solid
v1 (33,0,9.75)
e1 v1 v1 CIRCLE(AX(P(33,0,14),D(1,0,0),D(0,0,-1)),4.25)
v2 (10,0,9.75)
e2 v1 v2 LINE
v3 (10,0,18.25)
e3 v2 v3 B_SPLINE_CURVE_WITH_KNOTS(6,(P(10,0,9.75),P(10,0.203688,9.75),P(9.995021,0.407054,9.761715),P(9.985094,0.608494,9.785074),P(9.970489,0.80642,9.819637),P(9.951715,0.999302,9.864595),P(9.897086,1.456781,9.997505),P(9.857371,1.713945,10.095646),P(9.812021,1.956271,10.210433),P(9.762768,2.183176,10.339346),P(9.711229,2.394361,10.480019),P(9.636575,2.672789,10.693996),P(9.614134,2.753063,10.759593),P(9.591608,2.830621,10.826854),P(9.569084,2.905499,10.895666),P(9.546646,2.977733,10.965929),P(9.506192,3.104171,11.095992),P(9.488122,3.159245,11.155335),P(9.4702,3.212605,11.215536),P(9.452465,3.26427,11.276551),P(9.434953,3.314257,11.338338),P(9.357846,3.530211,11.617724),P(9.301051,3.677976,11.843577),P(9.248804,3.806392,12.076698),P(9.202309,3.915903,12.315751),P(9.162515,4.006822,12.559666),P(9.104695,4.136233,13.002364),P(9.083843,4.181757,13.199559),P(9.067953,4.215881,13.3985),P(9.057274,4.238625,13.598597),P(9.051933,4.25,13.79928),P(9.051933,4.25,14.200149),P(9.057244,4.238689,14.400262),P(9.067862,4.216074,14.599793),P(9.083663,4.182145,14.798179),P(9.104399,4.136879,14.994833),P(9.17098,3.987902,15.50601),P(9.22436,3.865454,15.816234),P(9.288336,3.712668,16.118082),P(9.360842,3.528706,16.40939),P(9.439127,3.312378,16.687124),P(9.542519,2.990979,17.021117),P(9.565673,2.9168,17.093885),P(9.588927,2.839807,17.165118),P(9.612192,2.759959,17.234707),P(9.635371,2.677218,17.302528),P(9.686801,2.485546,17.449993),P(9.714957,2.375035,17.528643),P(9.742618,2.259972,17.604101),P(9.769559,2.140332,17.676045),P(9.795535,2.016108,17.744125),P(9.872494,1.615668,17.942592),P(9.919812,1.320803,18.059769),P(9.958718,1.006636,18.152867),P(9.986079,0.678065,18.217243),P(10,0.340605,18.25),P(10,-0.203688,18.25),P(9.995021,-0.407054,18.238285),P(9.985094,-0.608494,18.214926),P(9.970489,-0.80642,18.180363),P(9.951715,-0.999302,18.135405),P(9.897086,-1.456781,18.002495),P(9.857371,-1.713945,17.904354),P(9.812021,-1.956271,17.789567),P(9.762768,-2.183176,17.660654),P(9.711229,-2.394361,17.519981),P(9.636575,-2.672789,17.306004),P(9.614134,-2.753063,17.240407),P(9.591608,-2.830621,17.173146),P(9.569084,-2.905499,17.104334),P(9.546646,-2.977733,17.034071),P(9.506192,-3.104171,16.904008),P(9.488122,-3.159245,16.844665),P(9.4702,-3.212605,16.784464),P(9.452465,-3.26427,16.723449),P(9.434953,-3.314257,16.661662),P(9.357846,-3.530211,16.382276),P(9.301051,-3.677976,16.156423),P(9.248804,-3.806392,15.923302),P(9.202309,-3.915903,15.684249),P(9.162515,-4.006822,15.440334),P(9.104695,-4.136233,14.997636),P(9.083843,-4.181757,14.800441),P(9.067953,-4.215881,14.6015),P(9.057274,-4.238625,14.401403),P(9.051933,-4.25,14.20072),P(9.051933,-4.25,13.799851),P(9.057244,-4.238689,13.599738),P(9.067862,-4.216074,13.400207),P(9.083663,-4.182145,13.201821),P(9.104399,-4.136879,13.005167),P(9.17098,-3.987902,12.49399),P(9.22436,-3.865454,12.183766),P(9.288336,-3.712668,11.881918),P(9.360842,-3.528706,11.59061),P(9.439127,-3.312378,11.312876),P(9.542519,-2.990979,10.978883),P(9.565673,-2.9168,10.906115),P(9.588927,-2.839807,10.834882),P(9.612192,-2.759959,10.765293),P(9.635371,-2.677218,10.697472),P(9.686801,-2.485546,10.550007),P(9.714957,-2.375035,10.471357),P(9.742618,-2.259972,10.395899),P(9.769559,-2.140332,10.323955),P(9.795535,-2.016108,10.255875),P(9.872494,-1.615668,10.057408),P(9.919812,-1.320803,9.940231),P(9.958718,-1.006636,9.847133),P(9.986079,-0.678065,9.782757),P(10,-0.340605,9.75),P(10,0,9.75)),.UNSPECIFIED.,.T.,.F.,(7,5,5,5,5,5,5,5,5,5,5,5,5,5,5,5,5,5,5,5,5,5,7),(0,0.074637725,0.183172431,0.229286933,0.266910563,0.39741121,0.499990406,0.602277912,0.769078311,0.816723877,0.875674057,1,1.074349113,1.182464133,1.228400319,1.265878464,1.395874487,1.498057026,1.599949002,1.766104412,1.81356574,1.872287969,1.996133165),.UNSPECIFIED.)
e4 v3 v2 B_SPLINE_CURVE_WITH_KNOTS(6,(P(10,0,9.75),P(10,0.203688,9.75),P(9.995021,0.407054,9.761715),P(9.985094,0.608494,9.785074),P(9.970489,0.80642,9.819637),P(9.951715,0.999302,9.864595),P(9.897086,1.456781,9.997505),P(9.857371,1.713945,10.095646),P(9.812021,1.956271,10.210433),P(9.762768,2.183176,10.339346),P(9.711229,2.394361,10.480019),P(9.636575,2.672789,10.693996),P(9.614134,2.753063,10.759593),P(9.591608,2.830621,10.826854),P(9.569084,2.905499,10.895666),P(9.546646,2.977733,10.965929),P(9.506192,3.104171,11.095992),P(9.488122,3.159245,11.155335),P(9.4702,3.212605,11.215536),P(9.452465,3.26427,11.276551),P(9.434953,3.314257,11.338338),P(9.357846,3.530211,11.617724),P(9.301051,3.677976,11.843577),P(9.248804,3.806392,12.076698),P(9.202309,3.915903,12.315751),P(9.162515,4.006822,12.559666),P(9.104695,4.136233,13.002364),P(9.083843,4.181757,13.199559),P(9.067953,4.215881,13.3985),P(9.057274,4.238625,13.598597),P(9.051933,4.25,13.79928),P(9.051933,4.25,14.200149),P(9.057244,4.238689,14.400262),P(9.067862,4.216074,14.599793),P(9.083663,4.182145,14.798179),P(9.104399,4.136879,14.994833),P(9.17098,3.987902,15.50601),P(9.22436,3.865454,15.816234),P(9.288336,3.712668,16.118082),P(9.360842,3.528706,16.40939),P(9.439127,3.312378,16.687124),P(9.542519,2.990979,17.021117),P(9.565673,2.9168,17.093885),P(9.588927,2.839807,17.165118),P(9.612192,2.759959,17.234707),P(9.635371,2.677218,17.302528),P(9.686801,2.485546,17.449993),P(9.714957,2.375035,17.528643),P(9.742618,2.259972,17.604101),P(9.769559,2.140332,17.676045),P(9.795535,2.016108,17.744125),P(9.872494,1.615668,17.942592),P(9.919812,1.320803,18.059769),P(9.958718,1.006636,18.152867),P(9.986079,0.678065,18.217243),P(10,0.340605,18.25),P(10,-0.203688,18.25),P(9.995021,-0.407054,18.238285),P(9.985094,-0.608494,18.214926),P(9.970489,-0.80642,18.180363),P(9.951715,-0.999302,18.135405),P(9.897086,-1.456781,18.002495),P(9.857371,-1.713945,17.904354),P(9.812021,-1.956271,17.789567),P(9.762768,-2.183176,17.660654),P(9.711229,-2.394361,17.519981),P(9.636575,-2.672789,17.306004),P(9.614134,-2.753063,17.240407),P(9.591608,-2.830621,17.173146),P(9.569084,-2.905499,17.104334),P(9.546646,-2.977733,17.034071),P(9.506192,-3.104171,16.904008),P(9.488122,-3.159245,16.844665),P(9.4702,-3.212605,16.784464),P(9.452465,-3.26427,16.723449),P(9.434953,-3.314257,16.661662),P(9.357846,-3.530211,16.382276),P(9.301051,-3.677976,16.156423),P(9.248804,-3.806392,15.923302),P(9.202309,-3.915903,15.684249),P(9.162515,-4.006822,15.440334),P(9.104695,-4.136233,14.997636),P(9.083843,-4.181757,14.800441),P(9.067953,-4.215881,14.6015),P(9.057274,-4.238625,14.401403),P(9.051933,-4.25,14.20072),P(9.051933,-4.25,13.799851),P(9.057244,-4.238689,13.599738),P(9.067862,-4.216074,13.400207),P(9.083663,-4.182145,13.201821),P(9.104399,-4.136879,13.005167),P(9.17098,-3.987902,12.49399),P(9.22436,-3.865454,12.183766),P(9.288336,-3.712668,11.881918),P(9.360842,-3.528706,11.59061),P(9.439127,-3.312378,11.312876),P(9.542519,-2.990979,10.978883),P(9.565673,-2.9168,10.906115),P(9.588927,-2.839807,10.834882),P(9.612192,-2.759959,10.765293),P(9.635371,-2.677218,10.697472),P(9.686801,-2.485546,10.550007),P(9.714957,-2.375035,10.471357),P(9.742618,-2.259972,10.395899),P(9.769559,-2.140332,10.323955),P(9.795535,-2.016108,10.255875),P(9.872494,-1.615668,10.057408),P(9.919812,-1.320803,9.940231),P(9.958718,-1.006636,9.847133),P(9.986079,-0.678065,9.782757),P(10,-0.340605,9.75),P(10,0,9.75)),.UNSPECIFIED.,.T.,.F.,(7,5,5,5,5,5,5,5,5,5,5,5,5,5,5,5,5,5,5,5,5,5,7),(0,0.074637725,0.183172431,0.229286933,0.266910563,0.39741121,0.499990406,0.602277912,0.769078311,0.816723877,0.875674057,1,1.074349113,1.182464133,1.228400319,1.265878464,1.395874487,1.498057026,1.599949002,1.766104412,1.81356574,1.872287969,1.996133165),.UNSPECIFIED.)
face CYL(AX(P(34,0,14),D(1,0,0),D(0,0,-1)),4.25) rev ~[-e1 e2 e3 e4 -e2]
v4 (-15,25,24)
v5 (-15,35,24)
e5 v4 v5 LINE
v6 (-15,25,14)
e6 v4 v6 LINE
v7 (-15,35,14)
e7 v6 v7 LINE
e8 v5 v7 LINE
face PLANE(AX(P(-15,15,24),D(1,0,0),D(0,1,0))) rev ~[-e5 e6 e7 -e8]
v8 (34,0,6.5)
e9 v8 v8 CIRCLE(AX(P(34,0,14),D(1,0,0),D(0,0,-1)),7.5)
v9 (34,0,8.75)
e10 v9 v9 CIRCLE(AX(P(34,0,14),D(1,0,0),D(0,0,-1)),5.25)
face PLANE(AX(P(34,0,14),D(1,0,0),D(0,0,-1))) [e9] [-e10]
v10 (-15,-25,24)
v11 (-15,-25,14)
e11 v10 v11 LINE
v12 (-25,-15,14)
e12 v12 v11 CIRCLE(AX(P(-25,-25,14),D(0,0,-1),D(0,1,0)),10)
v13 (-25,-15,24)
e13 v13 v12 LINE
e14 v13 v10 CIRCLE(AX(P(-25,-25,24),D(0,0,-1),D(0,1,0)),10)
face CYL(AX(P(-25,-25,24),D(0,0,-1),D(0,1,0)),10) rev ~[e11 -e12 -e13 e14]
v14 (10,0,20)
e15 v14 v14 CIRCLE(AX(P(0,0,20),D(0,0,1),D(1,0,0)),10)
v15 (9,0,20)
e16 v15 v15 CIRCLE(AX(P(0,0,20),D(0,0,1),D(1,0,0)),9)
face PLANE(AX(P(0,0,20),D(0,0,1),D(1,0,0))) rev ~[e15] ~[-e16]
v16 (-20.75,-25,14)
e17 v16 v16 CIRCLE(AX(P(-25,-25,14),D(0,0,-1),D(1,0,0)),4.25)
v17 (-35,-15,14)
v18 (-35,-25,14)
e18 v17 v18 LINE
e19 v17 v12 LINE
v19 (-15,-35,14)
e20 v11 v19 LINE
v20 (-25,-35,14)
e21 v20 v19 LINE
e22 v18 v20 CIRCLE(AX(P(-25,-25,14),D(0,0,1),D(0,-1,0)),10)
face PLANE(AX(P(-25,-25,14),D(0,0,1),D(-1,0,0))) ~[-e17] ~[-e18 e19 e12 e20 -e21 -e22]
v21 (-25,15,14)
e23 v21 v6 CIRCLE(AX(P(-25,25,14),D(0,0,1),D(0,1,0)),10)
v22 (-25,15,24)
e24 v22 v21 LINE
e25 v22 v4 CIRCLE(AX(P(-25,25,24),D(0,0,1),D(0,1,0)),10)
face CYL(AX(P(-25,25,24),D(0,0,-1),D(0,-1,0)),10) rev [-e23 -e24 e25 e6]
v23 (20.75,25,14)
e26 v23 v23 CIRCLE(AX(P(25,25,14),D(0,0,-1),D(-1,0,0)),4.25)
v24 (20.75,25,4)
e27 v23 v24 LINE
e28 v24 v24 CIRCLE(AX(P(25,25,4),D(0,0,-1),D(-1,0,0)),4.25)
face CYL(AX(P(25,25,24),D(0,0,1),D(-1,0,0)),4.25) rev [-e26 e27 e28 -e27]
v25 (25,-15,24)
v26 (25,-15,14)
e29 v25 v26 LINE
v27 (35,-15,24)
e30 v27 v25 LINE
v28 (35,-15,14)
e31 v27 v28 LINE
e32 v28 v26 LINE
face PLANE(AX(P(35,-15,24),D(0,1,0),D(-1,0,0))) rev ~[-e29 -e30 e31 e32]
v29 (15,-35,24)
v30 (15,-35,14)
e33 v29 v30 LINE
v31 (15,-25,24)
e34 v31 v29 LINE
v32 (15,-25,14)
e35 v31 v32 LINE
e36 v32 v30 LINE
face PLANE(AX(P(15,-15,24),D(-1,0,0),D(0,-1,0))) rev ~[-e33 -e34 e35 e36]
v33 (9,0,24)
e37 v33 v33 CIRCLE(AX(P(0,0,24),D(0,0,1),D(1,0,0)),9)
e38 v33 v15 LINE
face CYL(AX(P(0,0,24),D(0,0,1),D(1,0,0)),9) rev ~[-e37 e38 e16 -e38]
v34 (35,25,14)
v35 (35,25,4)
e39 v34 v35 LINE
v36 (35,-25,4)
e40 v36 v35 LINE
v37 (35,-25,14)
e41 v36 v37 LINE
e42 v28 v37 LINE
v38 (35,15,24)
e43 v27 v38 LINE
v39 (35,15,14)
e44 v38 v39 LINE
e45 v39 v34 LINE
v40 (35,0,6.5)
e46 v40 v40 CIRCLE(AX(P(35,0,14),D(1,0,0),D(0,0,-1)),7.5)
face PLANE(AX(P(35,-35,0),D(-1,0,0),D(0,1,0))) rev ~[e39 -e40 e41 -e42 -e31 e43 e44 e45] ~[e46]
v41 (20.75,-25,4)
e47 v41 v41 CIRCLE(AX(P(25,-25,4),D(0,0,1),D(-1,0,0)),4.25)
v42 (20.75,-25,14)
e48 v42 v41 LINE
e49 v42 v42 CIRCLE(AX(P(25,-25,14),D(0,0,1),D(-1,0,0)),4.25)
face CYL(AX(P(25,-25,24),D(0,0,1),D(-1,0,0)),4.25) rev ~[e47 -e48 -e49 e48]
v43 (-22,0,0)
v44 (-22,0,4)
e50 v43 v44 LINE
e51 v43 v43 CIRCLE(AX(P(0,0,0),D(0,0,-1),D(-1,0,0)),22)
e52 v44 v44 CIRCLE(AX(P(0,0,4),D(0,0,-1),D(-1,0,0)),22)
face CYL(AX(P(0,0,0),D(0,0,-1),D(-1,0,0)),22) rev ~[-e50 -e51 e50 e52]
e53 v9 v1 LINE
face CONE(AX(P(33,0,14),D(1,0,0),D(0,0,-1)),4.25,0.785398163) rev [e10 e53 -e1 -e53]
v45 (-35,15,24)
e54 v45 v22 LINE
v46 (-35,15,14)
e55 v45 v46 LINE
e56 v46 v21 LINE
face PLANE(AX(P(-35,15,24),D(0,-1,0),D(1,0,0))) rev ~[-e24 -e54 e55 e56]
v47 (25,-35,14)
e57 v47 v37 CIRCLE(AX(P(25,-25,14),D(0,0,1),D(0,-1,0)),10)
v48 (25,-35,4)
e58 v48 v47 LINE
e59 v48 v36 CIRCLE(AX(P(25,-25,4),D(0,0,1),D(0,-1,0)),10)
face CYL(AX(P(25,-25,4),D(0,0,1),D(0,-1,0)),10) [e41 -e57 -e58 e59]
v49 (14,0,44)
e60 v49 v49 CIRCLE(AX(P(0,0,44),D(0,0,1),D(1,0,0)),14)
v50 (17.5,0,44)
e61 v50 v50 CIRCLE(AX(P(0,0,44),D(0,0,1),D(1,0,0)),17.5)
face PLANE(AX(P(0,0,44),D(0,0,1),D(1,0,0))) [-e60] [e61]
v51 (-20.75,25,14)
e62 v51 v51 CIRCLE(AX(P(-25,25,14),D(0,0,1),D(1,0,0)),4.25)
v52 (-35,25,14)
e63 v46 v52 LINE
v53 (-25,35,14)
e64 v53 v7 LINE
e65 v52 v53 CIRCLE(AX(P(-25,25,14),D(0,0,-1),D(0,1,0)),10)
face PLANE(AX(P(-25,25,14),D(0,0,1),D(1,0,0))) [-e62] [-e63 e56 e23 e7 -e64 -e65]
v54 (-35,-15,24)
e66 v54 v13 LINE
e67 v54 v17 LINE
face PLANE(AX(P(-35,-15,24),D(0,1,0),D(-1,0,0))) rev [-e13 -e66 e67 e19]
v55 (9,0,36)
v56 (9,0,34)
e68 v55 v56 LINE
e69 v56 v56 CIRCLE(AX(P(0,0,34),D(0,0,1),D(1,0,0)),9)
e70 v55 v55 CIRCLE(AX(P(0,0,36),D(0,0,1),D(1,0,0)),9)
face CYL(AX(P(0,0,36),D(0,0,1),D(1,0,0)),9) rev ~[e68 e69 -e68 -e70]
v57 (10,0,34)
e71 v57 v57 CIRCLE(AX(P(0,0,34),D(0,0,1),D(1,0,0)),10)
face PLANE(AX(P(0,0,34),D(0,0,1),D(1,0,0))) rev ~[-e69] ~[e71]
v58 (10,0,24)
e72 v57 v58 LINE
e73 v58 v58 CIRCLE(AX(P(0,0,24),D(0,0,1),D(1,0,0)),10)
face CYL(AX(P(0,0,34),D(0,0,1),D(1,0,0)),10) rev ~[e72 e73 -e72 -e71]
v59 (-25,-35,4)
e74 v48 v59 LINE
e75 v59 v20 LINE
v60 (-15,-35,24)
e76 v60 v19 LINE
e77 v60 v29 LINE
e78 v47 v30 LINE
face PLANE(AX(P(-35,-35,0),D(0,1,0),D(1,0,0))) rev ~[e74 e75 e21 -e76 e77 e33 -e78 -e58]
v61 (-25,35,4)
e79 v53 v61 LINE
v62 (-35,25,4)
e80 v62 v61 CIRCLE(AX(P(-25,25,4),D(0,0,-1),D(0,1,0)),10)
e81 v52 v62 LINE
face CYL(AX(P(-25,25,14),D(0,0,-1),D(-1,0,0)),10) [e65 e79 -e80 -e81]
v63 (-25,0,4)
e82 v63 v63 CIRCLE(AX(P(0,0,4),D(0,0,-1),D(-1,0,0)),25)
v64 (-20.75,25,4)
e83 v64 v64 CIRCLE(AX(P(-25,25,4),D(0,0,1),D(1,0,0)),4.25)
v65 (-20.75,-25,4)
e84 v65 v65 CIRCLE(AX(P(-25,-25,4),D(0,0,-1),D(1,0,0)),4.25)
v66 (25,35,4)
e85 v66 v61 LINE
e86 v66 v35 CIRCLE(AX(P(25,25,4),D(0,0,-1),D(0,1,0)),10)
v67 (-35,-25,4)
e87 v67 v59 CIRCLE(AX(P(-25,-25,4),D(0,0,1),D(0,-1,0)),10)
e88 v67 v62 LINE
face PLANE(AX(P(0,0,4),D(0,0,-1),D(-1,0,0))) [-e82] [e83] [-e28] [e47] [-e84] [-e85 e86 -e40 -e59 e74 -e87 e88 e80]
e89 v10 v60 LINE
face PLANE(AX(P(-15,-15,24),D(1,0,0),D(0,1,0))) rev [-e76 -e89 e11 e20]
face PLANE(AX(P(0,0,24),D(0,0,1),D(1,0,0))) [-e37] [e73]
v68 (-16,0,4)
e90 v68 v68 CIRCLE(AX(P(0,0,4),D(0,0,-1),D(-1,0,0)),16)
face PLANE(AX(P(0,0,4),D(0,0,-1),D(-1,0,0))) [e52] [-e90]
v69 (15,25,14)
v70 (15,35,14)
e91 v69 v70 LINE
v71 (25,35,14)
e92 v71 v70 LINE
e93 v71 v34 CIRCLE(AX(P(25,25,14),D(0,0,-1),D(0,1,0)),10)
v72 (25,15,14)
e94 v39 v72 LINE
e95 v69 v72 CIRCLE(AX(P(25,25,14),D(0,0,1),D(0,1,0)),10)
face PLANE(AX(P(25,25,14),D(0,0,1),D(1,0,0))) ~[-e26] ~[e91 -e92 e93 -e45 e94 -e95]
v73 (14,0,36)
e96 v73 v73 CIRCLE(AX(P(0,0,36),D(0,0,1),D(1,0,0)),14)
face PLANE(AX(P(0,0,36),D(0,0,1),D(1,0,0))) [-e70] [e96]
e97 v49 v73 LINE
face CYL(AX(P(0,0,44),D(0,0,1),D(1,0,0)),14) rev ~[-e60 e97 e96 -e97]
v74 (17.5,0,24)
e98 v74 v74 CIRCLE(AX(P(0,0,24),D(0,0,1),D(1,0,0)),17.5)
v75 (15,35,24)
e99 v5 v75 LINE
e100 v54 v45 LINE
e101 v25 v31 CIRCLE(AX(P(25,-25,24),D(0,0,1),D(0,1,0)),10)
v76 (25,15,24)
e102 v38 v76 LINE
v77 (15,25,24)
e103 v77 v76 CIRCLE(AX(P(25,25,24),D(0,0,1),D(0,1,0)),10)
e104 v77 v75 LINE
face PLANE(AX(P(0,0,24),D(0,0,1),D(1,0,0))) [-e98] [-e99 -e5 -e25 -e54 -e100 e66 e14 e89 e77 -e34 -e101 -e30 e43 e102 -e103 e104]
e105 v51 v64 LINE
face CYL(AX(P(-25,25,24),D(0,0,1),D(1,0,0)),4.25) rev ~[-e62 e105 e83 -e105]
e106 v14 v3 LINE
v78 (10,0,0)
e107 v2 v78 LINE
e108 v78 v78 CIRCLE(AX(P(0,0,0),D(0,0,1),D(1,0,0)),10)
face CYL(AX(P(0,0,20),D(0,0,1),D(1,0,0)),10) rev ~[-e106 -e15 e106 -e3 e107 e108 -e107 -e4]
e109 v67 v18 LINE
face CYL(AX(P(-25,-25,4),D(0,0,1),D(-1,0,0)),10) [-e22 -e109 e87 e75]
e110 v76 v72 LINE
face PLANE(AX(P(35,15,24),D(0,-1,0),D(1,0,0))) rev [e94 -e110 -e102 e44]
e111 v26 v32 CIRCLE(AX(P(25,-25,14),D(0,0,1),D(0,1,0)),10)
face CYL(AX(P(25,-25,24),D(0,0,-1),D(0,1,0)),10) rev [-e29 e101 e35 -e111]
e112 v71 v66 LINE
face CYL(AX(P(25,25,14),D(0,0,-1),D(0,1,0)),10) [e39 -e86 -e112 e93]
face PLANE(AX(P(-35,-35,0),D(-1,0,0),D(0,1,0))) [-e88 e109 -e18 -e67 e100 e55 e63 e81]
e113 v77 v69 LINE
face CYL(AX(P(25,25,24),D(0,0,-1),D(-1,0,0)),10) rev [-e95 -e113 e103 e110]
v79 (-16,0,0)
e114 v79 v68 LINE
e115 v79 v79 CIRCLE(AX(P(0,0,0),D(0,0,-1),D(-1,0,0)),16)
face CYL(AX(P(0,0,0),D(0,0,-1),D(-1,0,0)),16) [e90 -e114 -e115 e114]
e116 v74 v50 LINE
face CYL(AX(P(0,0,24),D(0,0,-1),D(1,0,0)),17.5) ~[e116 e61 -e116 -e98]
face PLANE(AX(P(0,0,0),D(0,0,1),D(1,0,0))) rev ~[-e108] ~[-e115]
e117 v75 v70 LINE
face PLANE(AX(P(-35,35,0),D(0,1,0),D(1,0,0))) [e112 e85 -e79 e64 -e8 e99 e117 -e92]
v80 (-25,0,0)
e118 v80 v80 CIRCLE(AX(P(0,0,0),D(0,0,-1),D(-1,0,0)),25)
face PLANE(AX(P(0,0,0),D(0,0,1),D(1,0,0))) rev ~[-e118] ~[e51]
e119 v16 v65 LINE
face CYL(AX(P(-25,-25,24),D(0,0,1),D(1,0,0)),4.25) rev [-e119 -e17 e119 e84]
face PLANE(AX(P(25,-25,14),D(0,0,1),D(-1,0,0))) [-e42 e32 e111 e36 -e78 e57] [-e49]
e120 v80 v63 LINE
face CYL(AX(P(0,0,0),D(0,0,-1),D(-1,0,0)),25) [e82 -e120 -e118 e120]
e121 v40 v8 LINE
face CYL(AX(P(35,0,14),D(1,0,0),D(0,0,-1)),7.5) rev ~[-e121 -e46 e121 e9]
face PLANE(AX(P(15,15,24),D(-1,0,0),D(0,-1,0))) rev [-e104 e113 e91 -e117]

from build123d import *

# Parameters (mm, degrees)
SKETCH2_W               = 70
SKETCH2_H               = 70
BOSS_EXTRUDE1_DEPTH     = 24
SKETCH3_R               = 55
SKETCH3_W               = 70
SKETCH3_H               = 70
SKETCH3_R_2             = 22
SKETCH3_R_3             = 16
CUT_EXTRUDE1_DEPTH      = 4
SKETCH3_3_W             = 70
SKETCH3_3_H             = 70
SKETCH3_3_R             = 25
CUT_EXTRUDE2_DEPTH      = 4
SKETCH4_W               = 20
SKETCH4_H               = 20
SKETCH4_R               = 4.25
CUT_EXTRUDE3_DEPTH      = 10
CUT_EXTRUDE4_REACH      = 57.009
SKETCH4_3_R             = 4.25
MIRROR2_COPY_1_SKETCH_W = 20
MIRROR2_COPY_1_SKETCH_H = 20
MIRROR2_COPY_1_SKETCH_R = 4.25
MIRROR2_COPY_1_DEPTH    = 10
MIRROR2_COPY_2_REACH    = 57.009
MIRROR2_COPY_2_SKETCH_R = 4.25
FILLET1_R               = 10
SKETCH5_R               = 17.5
BOSS_EXTRUDE2_DEPTH     = 20
SKETCH6_R               = 14
CUT_EXTRUDE5_DEPTH      = 8
SKETCH7_R               = 9
CUT_EXTRUDE6_DEPTH      = 2
SKETCH8_R               = 10
CUT_EXTRUDE7_DEPTH      = 10
SKETCH9_R               = 9
CUT_EXTRUDE8_DEPTH      = 4
SKETCH10_R              = 10
CUT_EXTRUDE9_DEPTH      = 20
SKETCH11_R              = 7.5
CUT_EXTRUDE10_DEPTH     = 1
M10_TAPPED_HOLE1_REACH  = 91.006
M10_TAPPED_HOLE1_BORE_R = 4.25
CHAMFER1_SIZE           = 1


with BuildPart() as part:
    # Sketch2 → Boss-Extrude1 (new body)
    with BuildSketch(Plane.XY):
        Rectangle(SKETCH2_W, SKETCH2_H)
    extrude(amount=BOSS_EXTRUDE1_DEPTH)

    # Sketch3 → Cut-Extrude1 (cut)
    # profile 1 of 2: a face of its own
    with BuildSketch(Plane(origin=(0, 0, 0), x_dir=(-1, 0, 0), z_dir=(0, 0, -1))):
        Circle(SKETCH3_R)
        Rectangle(SKETCH3_W, SKETCH3_H, mode=Mode.SUBTRACT)
    # profile 2 of 2: a face of its own
    with BuildSketch(Plane(origin=(0, 0, 0), x_dir=(-1, 0, 0), z_dir=(0, 0, -1))):
        Circle(SKETCH3_R_2)
        Circle(SKETCH3_R_3, mode=Mode.SUBTRACT)
    extrude(amount=-CUT_EXTRUDE1_DEPTH, mode=Mode.SUBTRACT)

    # Sketch3<3> → Cut-Extrude2 (cut)
    with BuildSketch(Plane(origin=(0, 0, 0), x_dir=(-1, 0, 0), z_dir=(0, 0, -1))):
        Rectangle(SKETCH3_3_W, SKETCH3_3_H)
        Circle(SKETCH3_3_R, mode=Mode.SUBTRACT)
    extrude(amount=-CUT_EXTRUDE2_DEPTH, mode=Mode.SUBTRACT)

    # Sketch4 → Cut-Extrude3 (cut)
    with BuildSketch(Plane.XY.offset(24)):
        with Locations((-25, 25)):
            Rectangle(SKETCH4_W, SKETCH4_H)
        with Locations((-25, 25)):
            Circle(SKETCH4_R, mode=Mode.SUBTRACT)
    cut_extrude3 = extrude(amount=-CUT_EXTRUDE3_DEPTH, mode=Mode.SUBTRACT)

    # Sketch4<3> → Cut-Extrude4 (cut, up to next)
    with BuildSketch(Plane.XY.offset(24), mode=Mode.PRIVATE) as cut_extrude4_sk1:
        with Locations((-25, 25)):
            Circle(SKETCH4_3_R)
    cut_extrude4_tool1 = extrude(cut_extrude4_sk1.sketch, amount=-CUT_EXTRUDE4_REACH, mode=Mode.PRIVATE) & part.part
    cut_extrude4 = cut_extrude4_tool1.solids().sort_by_distance((-25, 25, 24))[0]
    add(cut_extrude4, mode=Mode.SUBTRACT)

    # Mirror1: Cut-Extrude3, Cut-Extrude4 across plane
    add(cut_extrude3.mirror(Plane.ZX), mode=Mode.SUBTRACT)
    add(cut_extrude4.mirror(Plane.ZX), mode=Mode.SUBTRACT)

    # Mirror2: Cut-Extrude3, Cut-Extrude4 across plane
    add(cut_extrude3.mirror(Plane(origin=(0, 0, 0), x_dir=(0, 0, 1), z_dir=(1, 0, 0))), mode=Mode.SUBTRACT)
    add(cut_extrude4.mirror(Plane(origin=(0, 0, 0), x_dir=(0, 0, 1), z_dir=(1, 0, 0))), mode=Mode.SUBTRACT)

    # Mirror2 copy 1 sketch → Mirror2 copy 1 (cut)
    with BuildSketch(Plane(origin=(0, 0, 24), x_dir=(-1, 0, 0), z_dir=(0, 0, 1))):
        with Locations((-25, 25)):
            Rectangle(MIRROR2_COPY_1_SKETCH_W, MIRROR2_COPY_1_SKETCH_H)
        with Locations((-25, 25)):
            Circle(MIRROR2_COPY_1_SKETCH_R, mode=Mode.SUBTRACT)
    extrude(amount=-MIRROR2_COPY_1_DEPTH, mode=Mode.SUBTRACT)

    # Mirror2 copy 2 sketch → Mirror2 copy 2 (cut, up to next)
    with BuildSketch(Plane(origin=(0, 0, 24), x_dir=(-1, 0, 0), z_dir=(0, 0, 1)), mode=Mode.PRIVATE) as mirror2_copy_2_sk1:
        with Locations((-25, 25)):
            Circle(MIRROR2_COPY_2_SKETCH_R)
    mirror2_copy_2_tool1 = extrude(mirror2_copy_2_sk1.sketch, amount=-MIRROR2_COPY_2_REACH, mode=Mode.PRIVATE) & part.part
    add(mirror2_copy_2_tool1.solids().sort_by_distance((25, -25, 24))[0], mode=Mode.SUBTRACT)

    # Fillet1
    fillet1_edges = [part.edges().sort_by_distance(p)[0] for p in [
        (35, -35, 9),
        (15, -15, 19),
        (-35, 35, 9),
        (-15, 15, 19),
        (-35, -35, 9),
        (-15, -15, 19),
        (35, 35, 9),
        (15, 15, 19),
    ]]
    fillet(fillet1_edges, radius=FILLET1_R)

    # Sketch5 → Boss-Extrude2 (add)
    with BuildSketch(Plane.XY.offset(24)):
        Circle(SKETCH5_R)
    extrude(amount=BOSS_EXTRUDE2_DEPTH)

    # Sketch6 → Cut-Extrude5 (cut)
    with BuildSketch(Plane.XY.offset(44)):
        Circle(SKETCH6_R)
    extrude(amount=-CUT_EXTRUDE5_DEPTH, mode=Mode.SUBTRACT)

    # Sketch7 → Cut-Extrude6 (cut)
    with BuildSketch(Plane.XY.offset(36)):
        Circle(SKETCH7_R)
    extrude(amount=-CUT_EXTRUDE6_DEPTH, mode=Mode.SUBTRACT)

    # Sketch8 → Cut-Extrude7 (cut)
    with BuildSketch(Plane.XY.offset(34)):
        Circle(SKETCH8_R)
    extrude(amount=-CUT_EXTRUDE7_DEPTH, mode=Mode.SUBTRACT)

    # Sketch9 → Cut-Extrude8 (cut)
    with BuildSketch(Plane.XY.offset(24)):
        Circle(SKETCH9_R)
    extrude(amount=-CUT_EXTRUDE8_DEPTH, mode=Mode.SUBTRACT)

    # Sketch10 → Cut-Extrude9 (cut)
    with BuildSketch(Plane.XY.offset(20)):
        Circle(SKETCH10_R)
    extrude(amount=-CUT_EXTRUDE9_DEPTH, mode=Mode.SUBTRACT)

    # Sketch11 → Cut-Extrude10 (cut)
    with BuildSketch(Plane(origin=(35, 0, 0), x_dir=(0, 0, -1), z_dir=(1, 0, 0))):
        with Locations((-14, 0)):
            Circle(SKETCH11_R)
    extrude(amount=-CUT_EXTRUDE10_DEPTH, mode=Mode.SUBTRACT)

    # M10 Tapped Hole1 bore → M10 Tapped Hole1 (cut, up to next)
    with BuildSketch(Plane(origin=(34, 0, 0), x_dir=(0, 0, -1), z_dir=(1, 0, 0)), mode=Mode.PRIVATE) as m10_tapped_hole1_sk1:
        with Locations((-14, 0)):
            Circle(M10_TAPPED_HOLE1_BORE_R)
    m10_tapped_hole1_tool1 = extrude(m10_tapped_hole1_sk1.sketch, amount=-M10_TAPPED_HOLE1_REACH, mode=Mode.PRIVATE) & part.part
    add(m10_tapped_hole1_tool1.solids().sort_by_distance((34, 0, 14))[0], mode=Mode.SUBTRACT)

    # Chamfer1
    chamfer1_edges = [part.edges().sort_by_distance(p)[0] for p in [
        (34, 0, 18.25),
    ]]
    chamfer(chamfer1_edges, length=CHAMFER1_SIZE)


solid = part.part
